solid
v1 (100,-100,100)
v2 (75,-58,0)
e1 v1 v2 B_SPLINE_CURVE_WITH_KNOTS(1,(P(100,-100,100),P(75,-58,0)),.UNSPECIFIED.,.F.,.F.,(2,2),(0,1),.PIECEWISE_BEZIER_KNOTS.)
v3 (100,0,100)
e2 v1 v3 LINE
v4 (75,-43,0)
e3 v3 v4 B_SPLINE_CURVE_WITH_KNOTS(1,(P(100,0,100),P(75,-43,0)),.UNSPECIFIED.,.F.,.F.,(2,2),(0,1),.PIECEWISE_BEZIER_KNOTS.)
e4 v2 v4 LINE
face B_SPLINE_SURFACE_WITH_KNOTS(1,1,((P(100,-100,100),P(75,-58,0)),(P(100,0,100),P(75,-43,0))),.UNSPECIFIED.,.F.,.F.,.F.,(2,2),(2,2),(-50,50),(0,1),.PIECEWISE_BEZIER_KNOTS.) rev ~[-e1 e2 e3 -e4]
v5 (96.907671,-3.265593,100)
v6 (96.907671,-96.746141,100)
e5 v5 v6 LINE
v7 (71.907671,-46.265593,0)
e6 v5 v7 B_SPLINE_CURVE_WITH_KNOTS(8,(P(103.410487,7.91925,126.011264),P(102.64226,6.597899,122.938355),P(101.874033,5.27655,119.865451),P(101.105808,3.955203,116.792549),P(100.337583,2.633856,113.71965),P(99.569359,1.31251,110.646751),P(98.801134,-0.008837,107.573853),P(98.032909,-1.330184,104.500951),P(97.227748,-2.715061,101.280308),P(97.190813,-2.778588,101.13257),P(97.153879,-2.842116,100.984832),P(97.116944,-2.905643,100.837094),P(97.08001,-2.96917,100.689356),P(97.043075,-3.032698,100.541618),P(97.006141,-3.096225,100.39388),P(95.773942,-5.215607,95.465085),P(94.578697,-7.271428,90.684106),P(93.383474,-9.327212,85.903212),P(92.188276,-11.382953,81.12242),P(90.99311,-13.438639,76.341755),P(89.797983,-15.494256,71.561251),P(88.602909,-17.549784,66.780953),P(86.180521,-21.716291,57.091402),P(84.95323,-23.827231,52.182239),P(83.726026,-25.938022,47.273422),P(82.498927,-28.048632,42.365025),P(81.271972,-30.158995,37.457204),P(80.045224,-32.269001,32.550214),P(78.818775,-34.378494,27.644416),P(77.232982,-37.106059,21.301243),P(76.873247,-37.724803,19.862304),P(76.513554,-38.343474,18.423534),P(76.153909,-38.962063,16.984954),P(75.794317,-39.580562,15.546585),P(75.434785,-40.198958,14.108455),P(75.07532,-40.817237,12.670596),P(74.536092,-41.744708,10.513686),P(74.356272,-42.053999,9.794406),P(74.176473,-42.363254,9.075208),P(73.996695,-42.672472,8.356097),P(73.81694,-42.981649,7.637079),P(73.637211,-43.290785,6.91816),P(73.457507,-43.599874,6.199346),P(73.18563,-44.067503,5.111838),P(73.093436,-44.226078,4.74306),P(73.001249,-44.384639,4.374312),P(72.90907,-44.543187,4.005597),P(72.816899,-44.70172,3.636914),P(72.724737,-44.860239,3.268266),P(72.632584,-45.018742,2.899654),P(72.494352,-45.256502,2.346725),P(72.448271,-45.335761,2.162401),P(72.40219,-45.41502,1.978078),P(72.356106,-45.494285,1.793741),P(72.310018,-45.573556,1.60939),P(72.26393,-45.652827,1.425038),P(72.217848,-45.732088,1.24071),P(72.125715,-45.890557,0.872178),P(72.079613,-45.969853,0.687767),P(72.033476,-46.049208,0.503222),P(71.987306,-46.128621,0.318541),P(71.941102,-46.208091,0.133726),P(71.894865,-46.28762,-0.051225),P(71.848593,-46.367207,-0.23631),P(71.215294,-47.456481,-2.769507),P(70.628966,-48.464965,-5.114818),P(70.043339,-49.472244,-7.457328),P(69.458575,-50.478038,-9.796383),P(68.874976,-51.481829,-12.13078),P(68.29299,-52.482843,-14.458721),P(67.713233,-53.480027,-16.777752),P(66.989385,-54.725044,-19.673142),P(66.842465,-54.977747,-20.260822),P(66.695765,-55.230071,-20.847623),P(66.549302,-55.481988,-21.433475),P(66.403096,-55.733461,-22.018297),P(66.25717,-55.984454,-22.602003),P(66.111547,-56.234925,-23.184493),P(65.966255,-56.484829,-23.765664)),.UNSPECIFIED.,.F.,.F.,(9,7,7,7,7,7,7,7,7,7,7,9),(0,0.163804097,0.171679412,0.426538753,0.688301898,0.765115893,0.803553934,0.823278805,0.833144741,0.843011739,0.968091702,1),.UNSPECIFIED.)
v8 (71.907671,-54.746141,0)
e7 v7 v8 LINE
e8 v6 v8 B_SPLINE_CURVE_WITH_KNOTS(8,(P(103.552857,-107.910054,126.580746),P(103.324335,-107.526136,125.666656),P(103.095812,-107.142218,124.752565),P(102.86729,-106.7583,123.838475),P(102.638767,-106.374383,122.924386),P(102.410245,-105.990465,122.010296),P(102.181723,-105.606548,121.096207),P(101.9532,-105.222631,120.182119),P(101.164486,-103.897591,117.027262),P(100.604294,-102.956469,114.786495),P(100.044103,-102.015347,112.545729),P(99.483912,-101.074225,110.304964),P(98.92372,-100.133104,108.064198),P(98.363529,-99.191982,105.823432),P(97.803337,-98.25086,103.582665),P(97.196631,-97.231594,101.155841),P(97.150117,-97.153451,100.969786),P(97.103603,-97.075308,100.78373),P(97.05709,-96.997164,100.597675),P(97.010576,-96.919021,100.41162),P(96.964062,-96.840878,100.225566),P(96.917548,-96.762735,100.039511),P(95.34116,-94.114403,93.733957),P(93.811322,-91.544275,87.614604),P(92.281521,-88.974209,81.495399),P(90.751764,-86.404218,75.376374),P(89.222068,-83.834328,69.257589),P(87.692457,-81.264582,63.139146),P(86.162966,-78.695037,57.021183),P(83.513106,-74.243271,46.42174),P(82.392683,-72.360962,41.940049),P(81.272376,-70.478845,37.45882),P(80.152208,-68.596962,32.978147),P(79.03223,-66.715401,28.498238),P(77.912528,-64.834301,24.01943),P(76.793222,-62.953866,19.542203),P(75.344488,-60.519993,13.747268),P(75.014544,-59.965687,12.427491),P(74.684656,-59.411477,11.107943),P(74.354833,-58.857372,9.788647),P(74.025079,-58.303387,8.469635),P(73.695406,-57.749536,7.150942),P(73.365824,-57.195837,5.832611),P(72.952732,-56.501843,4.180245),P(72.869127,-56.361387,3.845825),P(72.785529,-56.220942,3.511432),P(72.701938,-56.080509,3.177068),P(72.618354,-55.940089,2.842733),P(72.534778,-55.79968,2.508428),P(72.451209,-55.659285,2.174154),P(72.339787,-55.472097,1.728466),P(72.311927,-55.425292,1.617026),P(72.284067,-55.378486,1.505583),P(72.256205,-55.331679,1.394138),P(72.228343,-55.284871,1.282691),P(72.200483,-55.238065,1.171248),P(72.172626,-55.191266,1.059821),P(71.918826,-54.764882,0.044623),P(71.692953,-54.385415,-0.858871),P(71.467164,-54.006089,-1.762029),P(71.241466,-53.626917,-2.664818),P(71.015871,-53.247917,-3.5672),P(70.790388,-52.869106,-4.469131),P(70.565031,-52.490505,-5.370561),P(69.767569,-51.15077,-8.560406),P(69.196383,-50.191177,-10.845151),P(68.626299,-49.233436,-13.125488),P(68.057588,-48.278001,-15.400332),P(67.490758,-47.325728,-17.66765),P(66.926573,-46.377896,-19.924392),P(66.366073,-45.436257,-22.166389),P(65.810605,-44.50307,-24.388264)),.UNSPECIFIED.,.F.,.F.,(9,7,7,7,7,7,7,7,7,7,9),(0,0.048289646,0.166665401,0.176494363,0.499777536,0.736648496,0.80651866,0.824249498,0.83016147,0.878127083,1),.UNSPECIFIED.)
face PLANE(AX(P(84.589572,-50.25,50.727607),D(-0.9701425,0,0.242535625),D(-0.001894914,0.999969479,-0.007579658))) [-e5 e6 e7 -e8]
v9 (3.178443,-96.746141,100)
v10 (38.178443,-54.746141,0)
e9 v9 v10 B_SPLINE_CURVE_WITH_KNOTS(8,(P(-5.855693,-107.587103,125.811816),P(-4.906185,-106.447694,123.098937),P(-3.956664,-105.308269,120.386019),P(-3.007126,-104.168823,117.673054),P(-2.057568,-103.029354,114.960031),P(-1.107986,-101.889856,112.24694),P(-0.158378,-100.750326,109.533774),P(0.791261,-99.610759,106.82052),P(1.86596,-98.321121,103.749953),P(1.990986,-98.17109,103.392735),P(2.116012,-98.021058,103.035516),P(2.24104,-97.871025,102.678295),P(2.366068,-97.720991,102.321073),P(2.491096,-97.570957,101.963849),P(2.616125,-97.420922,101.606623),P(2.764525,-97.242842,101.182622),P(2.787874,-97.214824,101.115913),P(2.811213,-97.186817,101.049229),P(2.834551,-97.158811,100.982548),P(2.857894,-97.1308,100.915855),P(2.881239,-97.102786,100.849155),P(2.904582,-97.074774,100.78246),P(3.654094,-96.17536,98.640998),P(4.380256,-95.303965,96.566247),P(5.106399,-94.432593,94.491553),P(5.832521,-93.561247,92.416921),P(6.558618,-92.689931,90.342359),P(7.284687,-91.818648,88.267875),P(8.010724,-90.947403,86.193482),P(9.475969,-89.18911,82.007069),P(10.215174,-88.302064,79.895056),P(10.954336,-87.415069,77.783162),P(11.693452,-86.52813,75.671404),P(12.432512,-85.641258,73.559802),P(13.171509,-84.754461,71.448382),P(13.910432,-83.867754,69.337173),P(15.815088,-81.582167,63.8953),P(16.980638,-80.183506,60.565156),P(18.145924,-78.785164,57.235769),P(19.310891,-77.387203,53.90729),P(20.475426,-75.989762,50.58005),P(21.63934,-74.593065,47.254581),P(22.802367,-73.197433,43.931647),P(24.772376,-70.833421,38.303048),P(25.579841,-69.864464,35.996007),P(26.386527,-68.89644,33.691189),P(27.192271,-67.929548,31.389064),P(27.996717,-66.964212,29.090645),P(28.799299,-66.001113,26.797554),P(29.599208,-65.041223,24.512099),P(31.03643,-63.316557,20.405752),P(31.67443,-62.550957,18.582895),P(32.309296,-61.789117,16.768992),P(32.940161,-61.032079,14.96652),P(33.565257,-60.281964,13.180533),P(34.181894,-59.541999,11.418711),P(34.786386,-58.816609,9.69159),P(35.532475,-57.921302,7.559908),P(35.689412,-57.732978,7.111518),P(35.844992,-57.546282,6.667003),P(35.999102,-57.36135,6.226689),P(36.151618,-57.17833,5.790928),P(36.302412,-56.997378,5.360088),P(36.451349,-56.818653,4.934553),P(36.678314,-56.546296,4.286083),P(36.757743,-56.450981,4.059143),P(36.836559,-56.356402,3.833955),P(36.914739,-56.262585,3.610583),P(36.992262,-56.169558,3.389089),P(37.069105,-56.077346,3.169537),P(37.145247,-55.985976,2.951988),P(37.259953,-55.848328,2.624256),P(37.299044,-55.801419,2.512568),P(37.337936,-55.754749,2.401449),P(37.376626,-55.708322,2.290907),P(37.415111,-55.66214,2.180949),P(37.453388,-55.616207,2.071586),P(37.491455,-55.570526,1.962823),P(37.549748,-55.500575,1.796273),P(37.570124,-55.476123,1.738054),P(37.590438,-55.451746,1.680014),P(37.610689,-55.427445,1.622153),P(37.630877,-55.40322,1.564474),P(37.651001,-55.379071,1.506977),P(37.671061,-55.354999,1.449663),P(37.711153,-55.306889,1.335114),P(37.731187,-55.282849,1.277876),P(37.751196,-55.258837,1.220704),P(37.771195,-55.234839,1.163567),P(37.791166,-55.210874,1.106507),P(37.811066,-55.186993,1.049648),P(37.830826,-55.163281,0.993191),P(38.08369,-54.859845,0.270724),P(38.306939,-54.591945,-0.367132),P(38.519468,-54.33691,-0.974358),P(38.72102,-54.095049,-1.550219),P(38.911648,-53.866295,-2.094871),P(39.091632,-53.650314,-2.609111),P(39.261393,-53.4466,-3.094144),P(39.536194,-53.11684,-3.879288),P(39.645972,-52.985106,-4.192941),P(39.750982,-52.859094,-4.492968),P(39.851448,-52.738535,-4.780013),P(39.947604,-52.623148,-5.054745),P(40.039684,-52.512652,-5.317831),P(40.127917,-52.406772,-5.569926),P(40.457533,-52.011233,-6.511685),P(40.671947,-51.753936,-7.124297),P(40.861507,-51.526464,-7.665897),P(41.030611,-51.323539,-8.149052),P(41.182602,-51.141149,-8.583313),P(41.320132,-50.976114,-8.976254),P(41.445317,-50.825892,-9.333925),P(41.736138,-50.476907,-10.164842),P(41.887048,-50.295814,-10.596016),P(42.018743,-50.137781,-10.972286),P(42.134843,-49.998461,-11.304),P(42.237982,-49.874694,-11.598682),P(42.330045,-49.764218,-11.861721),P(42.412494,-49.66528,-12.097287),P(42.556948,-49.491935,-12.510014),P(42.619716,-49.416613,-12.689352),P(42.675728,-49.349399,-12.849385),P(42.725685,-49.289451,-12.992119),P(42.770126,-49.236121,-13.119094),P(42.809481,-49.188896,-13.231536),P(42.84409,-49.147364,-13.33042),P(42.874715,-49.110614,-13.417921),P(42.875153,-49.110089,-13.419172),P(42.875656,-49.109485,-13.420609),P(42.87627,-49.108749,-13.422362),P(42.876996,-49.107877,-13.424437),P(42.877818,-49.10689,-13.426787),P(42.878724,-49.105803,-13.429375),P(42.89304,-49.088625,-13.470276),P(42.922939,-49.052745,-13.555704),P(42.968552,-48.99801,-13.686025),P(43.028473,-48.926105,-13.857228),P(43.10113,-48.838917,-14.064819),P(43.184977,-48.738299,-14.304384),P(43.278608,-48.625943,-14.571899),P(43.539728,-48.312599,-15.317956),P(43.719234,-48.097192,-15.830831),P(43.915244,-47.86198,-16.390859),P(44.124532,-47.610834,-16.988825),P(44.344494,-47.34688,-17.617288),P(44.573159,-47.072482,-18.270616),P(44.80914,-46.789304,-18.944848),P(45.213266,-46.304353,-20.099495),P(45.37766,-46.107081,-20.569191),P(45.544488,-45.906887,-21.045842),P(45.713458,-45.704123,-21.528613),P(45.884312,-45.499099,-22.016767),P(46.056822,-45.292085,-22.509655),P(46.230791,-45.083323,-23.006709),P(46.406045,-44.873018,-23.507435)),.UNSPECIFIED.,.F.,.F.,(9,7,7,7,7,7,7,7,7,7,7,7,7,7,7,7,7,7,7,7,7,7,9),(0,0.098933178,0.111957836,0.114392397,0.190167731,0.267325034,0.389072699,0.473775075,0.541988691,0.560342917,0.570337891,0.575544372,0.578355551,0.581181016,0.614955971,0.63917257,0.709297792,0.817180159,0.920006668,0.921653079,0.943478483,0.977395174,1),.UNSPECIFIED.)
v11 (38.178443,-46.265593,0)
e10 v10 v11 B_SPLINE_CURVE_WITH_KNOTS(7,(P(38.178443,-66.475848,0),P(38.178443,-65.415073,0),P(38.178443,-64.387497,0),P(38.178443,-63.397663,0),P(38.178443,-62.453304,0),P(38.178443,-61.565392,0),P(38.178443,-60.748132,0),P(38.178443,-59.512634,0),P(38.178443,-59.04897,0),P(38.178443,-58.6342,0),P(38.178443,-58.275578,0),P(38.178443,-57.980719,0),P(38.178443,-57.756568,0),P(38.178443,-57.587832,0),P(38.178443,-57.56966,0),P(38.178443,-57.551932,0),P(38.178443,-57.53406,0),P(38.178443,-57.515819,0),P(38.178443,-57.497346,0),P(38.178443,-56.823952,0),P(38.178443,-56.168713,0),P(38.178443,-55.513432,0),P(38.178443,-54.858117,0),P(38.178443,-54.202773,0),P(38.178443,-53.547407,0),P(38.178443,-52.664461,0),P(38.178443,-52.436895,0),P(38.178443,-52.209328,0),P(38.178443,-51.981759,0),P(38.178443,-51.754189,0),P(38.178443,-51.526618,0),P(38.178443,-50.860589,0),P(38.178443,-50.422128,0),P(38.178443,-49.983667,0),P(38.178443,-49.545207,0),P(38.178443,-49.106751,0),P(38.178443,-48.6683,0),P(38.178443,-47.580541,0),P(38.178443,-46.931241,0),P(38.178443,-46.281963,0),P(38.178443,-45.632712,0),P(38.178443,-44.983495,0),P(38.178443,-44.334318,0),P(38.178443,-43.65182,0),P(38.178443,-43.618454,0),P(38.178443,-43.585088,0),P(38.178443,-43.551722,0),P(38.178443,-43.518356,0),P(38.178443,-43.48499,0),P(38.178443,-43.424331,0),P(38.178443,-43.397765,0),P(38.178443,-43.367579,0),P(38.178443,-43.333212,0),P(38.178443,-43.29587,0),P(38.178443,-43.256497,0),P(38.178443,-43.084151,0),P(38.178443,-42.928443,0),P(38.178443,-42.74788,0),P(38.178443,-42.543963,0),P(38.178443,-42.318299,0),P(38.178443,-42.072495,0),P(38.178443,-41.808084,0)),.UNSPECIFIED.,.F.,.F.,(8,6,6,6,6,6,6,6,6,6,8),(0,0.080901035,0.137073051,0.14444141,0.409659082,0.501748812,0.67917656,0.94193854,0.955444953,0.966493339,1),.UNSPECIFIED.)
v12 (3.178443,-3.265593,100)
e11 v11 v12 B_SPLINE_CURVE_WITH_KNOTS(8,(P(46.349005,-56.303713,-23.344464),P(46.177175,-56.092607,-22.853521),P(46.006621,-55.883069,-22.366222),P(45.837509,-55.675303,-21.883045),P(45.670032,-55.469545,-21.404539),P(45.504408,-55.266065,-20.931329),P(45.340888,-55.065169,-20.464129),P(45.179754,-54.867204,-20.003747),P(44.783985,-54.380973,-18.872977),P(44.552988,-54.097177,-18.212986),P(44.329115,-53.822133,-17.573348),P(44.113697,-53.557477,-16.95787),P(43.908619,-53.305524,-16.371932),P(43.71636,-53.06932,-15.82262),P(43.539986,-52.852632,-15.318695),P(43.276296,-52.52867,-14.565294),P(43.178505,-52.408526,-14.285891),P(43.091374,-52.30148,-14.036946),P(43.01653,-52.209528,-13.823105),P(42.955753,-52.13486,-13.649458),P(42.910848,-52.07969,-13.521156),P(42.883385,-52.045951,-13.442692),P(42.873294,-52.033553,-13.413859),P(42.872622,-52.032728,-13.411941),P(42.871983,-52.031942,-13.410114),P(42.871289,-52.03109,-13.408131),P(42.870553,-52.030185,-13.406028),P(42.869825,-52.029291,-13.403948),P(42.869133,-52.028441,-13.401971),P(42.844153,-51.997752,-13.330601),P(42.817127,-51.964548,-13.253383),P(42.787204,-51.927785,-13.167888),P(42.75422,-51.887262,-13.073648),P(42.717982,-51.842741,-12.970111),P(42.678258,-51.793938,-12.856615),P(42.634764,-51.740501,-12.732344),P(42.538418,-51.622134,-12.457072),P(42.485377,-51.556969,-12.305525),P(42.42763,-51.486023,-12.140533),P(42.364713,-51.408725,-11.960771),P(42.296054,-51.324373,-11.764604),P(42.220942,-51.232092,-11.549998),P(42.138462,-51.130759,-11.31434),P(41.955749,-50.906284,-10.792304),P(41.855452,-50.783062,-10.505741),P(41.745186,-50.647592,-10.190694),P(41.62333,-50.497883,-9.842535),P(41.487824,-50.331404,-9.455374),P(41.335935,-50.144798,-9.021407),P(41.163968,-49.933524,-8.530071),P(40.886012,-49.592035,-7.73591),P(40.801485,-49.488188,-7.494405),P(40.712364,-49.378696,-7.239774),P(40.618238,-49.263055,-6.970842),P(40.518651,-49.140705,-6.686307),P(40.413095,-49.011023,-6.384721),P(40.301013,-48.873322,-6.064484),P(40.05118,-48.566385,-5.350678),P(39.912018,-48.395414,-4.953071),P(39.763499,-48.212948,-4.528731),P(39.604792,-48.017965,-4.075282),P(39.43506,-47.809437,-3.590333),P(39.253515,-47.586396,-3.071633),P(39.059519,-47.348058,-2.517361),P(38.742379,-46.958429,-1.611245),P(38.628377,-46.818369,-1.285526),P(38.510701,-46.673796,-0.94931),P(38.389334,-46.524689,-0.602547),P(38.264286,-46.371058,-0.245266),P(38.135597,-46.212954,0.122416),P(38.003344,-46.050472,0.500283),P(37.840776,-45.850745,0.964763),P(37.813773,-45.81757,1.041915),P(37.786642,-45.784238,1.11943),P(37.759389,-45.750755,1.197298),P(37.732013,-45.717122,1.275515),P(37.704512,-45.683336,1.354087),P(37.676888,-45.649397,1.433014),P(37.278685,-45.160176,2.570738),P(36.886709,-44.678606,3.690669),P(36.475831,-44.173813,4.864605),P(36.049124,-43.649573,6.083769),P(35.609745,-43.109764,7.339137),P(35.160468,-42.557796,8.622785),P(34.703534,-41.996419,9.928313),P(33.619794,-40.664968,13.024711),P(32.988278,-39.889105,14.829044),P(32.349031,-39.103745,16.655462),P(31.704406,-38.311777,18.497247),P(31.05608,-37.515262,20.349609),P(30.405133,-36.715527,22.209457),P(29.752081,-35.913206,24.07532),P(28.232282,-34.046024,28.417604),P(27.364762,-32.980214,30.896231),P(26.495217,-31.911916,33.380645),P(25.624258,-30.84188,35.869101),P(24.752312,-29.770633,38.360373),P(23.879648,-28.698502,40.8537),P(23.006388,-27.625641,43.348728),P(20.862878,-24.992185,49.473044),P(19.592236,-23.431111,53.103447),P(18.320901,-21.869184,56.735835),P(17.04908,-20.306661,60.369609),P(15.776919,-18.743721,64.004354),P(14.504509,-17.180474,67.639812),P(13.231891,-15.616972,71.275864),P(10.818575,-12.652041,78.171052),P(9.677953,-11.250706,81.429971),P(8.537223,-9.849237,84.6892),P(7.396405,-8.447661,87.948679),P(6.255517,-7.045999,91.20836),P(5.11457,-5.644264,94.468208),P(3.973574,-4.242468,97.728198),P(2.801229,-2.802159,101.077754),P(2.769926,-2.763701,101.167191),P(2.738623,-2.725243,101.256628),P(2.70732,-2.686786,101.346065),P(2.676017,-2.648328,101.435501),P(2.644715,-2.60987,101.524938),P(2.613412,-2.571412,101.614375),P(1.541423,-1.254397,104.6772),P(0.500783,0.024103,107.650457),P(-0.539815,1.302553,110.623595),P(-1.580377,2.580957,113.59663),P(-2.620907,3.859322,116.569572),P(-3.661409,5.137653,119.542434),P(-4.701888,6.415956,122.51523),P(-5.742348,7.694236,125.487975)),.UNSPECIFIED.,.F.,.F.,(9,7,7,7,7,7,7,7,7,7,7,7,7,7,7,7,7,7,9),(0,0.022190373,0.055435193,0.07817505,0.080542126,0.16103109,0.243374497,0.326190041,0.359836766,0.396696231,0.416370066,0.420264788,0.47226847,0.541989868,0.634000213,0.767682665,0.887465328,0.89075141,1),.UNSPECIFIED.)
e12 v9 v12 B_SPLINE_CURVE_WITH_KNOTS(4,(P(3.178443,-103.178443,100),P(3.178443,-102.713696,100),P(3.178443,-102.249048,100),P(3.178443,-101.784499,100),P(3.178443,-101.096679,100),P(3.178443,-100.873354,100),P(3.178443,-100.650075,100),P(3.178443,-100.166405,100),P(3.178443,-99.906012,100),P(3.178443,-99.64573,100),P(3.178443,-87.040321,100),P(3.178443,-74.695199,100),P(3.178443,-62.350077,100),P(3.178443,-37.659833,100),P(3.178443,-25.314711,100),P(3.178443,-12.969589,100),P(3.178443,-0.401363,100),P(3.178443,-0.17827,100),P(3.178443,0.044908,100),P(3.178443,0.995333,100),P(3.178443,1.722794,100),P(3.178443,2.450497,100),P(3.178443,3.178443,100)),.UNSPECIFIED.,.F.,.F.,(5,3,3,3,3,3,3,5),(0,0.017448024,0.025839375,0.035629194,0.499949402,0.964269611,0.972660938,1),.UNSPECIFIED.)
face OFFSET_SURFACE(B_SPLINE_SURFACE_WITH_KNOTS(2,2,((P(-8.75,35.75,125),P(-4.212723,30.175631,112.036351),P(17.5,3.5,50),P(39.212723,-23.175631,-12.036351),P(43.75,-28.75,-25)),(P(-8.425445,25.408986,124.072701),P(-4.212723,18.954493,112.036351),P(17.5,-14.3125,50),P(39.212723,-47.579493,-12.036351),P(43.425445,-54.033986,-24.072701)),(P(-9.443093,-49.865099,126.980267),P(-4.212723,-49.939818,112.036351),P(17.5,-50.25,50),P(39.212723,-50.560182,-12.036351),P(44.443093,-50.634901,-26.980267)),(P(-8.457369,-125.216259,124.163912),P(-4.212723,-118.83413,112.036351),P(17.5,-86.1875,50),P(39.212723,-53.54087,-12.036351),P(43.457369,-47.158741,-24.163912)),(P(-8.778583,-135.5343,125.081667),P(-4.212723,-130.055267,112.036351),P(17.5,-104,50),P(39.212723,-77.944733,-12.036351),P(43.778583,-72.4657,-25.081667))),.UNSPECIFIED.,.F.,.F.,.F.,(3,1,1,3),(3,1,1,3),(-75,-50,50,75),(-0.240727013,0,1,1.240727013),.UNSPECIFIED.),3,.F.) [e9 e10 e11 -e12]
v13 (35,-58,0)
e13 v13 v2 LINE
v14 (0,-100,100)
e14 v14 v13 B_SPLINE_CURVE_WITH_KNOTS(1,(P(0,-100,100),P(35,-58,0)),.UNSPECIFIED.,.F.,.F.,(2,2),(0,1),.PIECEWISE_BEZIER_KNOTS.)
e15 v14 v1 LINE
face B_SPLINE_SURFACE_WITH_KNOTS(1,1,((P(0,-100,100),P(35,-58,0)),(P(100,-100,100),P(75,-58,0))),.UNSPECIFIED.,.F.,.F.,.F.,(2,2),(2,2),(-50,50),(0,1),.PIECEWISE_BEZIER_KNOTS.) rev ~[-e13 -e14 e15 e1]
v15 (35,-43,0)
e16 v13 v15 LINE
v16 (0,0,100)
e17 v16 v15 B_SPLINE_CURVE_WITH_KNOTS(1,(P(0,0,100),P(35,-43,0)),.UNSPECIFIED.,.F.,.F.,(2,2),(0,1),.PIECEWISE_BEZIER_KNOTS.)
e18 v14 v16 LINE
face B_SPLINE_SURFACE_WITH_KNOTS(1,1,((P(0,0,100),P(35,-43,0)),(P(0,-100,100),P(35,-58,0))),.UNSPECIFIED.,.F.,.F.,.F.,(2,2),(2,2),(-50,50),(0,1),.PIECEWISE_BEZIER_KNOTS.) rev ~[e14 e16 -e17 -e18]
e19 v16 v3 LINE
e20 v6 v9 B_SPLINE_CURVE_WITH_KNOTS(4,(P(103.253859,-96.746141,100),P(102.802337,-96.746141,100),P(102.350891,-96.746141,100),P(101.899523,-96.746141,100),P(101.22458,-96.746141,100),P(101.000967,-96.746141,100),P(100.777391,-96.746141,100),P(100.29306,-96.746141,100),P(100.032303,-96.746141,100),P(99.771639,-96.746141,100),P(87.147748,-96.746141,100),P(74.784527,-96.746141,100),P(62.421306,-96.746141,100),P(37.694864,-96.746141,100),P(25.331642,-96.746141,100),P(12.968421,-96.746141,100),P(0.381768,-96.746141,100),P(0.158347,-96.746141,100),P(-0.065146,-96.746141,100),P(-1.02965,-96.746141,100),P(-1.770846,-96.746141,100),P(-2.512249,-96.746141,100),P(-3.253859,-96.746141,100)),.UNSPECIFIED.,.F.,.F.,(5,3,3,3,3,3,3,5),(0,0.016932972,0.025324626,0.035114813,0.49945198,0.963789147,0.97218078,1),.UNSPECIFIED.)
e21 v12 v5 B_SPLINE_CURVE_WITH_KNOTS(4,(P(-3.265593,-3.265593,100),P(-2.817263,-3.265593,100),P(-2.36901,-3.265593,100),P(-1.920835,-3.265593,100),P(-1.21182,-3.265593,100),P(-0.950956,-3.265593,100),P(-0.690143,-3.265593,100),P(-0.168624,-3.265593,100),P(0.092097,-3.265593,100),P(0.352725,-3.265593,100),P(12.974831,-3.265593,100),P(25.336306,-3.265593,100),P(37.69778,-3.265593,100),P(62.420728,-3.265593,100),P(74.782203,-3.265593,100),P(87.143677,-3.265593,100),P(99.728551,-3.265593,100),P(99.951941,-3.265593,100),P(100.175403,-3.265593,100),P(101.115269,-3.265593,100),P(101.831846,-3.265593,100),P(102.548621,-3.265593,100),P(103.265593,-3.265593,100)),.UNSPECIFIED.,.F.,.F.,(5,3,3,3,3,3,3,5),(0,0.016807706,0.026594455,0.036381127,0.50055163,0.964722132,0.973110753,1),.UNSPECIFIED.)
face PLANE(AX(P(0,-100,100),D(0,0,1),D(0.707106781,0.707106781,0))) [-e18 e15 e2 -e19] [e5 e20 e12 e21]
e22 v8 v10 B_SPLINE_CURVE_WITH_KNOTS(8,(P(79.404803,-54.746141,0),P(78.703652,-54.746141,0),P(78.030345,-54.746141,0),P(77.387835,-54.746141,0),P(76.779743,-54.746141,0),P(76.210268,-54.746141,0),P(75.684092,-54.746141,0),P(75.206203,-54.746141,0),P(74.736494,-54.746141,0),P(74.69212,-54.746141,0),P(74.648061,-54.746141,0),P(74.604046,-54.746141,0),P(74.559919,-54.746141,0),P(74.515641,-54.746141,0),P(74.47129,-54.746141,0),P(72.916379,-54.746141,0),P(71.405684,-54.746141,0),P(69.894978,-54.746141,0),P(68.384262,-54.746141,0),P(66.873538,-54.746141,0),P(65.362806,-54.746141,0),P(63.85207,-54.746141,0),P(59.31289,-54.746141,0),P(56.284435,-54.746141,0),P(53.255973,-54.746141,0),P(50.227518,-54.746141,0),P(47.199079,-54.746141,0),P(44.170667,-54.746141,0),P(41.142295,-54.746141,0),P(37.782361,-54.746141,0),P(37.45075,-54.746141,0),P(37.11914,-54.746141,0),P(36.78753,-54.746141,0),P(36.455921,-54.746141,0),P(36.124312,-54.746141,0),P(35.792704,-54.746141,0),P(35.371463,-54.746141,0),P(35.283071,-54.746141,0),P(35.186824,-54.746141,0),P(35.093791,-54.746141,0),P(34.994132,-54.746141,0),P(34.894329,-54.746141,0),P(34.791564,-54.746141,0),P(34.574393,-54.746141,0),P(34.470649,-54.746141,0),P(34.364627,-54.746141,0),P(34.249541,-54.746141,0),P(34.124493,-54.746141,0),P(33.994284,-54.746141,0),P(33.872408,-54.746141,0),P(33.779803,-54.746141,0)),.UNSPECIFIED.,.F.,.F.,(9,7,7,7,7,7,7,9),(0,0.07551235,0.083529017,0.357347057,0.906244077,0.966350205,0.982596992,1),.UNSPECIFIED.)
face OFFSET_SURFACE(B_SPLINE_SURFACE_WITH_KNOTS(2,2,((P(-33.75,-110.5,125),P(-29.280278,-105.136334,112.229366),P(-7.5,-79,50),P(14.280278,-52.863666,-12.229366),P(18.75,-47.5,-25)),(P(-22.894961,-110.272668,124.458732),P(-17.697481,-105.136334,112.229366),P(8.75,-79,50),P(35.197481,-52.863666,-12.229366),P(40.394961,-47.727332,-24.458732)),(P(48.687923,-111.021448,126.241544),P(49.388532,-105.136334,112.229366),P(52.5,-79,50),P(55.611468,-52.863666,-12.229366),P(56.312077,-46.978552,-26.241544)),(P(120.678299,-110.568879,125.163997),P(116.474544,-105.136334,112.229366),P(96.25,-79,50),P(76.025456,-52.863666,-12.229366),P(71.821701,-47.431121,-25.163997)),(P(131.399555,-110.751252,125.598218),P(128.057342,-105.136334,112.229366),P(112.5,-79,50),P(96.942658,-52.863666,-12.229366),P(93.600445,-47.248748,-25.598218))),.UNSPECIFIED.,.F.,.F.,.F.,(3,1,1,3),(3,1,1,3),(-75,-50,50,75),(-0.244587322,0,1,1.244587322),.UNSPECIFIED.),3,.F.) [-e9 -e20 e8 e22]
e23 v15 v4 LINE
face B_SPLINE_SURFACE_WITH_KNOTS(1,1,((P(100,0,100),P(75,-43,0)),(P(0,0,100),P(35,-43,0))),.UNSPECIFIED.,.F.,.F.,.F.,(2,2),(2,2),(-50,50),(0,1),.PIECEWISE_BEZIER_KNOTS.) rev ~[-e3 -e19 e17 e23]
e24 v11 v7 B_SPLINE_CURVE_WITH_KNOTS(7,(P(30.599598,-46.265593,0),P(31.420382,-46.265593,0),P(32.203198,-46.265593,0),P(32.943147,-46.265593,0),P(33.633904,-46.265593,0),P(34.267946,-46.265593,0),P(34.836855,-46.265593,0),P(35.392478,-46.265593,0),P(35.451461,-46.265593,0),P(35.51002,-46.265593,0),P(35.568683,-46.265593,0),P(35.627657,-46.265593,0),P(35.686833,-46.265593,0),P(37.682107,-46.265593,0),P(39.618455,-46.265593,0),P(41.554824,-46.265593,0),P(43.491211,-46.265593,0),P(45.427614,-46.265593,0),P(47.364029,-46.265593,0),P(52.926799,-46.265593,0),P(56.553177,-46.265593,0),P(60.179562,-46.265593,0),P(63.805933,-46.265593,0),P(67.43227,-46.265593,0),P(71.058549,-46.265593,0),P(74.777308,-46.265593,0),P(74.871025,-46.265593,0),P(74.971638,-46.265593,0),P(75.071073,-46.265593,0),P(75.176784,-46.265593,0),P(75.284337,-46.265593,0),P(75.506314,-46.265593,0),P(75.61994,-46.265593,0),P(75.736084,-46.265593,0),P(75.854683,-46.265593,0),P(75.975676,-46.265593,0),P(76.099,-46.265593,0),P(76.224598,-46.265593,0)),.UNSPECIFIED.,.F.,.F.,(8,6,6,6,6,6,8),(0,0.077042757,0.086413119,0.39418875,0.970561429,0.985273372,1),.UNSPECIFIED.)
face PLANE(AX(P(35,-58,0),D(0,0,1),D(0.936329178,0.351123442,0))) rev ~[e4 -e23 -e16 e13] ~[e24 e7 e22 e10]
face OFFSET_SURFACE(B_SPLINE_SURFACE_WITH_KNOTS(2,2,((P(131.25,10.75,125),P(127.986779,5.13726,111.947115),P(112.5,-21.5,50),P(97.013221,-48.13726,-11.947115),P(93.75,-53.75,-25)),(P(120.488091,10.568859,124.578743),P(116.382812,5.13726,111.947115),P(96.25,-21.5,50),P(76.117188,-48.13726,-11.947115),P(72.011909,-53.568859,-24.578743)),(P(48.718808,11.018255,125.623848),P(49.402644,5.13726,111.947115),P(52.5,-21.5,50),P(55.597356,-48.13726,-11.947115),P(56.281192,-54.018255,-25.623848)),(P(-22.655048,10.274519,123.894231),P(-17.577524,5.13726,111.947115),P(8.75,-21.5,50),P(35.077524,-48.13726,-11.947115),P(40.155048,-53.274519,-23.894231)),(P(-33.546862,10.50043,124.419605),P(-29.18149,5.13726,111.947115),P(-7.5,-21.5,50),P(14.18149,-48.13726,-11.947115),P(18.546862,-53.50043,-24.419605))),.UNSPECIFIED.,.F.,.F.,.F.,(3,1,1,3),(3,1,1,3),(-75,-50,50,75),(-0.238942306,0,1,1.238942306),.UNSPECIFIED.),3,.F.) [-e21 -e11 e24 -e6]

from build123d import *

# Parameters (mm, degrees)
F1_W = 100
F1_H = 100
F2_W = 40
F2_H = 15
F4_T = -3


with BuildPart() as f3:
    # F1 (on offset) → F3 section 0
    with BuildSketch(Plane.XY.offset(100)):
        with Locations((50, -50)):
            Rectangle(F1_W, F1_H)
    # F2 (on Top) → F3 section 1
    with BuildSketch(Plane.XY):
        with Locations((55, -50.5)):
            Rectangle(F2_W, F2_H)
    loft()

    # F4
    f4_openings = [f3.faces().sort_by_distance(p)[0] for p in [
        (50, -50, 100),
        (55, -50.5, 0),
    ]]
    offset(amount=F4_T, openings=f4_openings, kind=Kind.INTERSECTION)


solid = f3.part
